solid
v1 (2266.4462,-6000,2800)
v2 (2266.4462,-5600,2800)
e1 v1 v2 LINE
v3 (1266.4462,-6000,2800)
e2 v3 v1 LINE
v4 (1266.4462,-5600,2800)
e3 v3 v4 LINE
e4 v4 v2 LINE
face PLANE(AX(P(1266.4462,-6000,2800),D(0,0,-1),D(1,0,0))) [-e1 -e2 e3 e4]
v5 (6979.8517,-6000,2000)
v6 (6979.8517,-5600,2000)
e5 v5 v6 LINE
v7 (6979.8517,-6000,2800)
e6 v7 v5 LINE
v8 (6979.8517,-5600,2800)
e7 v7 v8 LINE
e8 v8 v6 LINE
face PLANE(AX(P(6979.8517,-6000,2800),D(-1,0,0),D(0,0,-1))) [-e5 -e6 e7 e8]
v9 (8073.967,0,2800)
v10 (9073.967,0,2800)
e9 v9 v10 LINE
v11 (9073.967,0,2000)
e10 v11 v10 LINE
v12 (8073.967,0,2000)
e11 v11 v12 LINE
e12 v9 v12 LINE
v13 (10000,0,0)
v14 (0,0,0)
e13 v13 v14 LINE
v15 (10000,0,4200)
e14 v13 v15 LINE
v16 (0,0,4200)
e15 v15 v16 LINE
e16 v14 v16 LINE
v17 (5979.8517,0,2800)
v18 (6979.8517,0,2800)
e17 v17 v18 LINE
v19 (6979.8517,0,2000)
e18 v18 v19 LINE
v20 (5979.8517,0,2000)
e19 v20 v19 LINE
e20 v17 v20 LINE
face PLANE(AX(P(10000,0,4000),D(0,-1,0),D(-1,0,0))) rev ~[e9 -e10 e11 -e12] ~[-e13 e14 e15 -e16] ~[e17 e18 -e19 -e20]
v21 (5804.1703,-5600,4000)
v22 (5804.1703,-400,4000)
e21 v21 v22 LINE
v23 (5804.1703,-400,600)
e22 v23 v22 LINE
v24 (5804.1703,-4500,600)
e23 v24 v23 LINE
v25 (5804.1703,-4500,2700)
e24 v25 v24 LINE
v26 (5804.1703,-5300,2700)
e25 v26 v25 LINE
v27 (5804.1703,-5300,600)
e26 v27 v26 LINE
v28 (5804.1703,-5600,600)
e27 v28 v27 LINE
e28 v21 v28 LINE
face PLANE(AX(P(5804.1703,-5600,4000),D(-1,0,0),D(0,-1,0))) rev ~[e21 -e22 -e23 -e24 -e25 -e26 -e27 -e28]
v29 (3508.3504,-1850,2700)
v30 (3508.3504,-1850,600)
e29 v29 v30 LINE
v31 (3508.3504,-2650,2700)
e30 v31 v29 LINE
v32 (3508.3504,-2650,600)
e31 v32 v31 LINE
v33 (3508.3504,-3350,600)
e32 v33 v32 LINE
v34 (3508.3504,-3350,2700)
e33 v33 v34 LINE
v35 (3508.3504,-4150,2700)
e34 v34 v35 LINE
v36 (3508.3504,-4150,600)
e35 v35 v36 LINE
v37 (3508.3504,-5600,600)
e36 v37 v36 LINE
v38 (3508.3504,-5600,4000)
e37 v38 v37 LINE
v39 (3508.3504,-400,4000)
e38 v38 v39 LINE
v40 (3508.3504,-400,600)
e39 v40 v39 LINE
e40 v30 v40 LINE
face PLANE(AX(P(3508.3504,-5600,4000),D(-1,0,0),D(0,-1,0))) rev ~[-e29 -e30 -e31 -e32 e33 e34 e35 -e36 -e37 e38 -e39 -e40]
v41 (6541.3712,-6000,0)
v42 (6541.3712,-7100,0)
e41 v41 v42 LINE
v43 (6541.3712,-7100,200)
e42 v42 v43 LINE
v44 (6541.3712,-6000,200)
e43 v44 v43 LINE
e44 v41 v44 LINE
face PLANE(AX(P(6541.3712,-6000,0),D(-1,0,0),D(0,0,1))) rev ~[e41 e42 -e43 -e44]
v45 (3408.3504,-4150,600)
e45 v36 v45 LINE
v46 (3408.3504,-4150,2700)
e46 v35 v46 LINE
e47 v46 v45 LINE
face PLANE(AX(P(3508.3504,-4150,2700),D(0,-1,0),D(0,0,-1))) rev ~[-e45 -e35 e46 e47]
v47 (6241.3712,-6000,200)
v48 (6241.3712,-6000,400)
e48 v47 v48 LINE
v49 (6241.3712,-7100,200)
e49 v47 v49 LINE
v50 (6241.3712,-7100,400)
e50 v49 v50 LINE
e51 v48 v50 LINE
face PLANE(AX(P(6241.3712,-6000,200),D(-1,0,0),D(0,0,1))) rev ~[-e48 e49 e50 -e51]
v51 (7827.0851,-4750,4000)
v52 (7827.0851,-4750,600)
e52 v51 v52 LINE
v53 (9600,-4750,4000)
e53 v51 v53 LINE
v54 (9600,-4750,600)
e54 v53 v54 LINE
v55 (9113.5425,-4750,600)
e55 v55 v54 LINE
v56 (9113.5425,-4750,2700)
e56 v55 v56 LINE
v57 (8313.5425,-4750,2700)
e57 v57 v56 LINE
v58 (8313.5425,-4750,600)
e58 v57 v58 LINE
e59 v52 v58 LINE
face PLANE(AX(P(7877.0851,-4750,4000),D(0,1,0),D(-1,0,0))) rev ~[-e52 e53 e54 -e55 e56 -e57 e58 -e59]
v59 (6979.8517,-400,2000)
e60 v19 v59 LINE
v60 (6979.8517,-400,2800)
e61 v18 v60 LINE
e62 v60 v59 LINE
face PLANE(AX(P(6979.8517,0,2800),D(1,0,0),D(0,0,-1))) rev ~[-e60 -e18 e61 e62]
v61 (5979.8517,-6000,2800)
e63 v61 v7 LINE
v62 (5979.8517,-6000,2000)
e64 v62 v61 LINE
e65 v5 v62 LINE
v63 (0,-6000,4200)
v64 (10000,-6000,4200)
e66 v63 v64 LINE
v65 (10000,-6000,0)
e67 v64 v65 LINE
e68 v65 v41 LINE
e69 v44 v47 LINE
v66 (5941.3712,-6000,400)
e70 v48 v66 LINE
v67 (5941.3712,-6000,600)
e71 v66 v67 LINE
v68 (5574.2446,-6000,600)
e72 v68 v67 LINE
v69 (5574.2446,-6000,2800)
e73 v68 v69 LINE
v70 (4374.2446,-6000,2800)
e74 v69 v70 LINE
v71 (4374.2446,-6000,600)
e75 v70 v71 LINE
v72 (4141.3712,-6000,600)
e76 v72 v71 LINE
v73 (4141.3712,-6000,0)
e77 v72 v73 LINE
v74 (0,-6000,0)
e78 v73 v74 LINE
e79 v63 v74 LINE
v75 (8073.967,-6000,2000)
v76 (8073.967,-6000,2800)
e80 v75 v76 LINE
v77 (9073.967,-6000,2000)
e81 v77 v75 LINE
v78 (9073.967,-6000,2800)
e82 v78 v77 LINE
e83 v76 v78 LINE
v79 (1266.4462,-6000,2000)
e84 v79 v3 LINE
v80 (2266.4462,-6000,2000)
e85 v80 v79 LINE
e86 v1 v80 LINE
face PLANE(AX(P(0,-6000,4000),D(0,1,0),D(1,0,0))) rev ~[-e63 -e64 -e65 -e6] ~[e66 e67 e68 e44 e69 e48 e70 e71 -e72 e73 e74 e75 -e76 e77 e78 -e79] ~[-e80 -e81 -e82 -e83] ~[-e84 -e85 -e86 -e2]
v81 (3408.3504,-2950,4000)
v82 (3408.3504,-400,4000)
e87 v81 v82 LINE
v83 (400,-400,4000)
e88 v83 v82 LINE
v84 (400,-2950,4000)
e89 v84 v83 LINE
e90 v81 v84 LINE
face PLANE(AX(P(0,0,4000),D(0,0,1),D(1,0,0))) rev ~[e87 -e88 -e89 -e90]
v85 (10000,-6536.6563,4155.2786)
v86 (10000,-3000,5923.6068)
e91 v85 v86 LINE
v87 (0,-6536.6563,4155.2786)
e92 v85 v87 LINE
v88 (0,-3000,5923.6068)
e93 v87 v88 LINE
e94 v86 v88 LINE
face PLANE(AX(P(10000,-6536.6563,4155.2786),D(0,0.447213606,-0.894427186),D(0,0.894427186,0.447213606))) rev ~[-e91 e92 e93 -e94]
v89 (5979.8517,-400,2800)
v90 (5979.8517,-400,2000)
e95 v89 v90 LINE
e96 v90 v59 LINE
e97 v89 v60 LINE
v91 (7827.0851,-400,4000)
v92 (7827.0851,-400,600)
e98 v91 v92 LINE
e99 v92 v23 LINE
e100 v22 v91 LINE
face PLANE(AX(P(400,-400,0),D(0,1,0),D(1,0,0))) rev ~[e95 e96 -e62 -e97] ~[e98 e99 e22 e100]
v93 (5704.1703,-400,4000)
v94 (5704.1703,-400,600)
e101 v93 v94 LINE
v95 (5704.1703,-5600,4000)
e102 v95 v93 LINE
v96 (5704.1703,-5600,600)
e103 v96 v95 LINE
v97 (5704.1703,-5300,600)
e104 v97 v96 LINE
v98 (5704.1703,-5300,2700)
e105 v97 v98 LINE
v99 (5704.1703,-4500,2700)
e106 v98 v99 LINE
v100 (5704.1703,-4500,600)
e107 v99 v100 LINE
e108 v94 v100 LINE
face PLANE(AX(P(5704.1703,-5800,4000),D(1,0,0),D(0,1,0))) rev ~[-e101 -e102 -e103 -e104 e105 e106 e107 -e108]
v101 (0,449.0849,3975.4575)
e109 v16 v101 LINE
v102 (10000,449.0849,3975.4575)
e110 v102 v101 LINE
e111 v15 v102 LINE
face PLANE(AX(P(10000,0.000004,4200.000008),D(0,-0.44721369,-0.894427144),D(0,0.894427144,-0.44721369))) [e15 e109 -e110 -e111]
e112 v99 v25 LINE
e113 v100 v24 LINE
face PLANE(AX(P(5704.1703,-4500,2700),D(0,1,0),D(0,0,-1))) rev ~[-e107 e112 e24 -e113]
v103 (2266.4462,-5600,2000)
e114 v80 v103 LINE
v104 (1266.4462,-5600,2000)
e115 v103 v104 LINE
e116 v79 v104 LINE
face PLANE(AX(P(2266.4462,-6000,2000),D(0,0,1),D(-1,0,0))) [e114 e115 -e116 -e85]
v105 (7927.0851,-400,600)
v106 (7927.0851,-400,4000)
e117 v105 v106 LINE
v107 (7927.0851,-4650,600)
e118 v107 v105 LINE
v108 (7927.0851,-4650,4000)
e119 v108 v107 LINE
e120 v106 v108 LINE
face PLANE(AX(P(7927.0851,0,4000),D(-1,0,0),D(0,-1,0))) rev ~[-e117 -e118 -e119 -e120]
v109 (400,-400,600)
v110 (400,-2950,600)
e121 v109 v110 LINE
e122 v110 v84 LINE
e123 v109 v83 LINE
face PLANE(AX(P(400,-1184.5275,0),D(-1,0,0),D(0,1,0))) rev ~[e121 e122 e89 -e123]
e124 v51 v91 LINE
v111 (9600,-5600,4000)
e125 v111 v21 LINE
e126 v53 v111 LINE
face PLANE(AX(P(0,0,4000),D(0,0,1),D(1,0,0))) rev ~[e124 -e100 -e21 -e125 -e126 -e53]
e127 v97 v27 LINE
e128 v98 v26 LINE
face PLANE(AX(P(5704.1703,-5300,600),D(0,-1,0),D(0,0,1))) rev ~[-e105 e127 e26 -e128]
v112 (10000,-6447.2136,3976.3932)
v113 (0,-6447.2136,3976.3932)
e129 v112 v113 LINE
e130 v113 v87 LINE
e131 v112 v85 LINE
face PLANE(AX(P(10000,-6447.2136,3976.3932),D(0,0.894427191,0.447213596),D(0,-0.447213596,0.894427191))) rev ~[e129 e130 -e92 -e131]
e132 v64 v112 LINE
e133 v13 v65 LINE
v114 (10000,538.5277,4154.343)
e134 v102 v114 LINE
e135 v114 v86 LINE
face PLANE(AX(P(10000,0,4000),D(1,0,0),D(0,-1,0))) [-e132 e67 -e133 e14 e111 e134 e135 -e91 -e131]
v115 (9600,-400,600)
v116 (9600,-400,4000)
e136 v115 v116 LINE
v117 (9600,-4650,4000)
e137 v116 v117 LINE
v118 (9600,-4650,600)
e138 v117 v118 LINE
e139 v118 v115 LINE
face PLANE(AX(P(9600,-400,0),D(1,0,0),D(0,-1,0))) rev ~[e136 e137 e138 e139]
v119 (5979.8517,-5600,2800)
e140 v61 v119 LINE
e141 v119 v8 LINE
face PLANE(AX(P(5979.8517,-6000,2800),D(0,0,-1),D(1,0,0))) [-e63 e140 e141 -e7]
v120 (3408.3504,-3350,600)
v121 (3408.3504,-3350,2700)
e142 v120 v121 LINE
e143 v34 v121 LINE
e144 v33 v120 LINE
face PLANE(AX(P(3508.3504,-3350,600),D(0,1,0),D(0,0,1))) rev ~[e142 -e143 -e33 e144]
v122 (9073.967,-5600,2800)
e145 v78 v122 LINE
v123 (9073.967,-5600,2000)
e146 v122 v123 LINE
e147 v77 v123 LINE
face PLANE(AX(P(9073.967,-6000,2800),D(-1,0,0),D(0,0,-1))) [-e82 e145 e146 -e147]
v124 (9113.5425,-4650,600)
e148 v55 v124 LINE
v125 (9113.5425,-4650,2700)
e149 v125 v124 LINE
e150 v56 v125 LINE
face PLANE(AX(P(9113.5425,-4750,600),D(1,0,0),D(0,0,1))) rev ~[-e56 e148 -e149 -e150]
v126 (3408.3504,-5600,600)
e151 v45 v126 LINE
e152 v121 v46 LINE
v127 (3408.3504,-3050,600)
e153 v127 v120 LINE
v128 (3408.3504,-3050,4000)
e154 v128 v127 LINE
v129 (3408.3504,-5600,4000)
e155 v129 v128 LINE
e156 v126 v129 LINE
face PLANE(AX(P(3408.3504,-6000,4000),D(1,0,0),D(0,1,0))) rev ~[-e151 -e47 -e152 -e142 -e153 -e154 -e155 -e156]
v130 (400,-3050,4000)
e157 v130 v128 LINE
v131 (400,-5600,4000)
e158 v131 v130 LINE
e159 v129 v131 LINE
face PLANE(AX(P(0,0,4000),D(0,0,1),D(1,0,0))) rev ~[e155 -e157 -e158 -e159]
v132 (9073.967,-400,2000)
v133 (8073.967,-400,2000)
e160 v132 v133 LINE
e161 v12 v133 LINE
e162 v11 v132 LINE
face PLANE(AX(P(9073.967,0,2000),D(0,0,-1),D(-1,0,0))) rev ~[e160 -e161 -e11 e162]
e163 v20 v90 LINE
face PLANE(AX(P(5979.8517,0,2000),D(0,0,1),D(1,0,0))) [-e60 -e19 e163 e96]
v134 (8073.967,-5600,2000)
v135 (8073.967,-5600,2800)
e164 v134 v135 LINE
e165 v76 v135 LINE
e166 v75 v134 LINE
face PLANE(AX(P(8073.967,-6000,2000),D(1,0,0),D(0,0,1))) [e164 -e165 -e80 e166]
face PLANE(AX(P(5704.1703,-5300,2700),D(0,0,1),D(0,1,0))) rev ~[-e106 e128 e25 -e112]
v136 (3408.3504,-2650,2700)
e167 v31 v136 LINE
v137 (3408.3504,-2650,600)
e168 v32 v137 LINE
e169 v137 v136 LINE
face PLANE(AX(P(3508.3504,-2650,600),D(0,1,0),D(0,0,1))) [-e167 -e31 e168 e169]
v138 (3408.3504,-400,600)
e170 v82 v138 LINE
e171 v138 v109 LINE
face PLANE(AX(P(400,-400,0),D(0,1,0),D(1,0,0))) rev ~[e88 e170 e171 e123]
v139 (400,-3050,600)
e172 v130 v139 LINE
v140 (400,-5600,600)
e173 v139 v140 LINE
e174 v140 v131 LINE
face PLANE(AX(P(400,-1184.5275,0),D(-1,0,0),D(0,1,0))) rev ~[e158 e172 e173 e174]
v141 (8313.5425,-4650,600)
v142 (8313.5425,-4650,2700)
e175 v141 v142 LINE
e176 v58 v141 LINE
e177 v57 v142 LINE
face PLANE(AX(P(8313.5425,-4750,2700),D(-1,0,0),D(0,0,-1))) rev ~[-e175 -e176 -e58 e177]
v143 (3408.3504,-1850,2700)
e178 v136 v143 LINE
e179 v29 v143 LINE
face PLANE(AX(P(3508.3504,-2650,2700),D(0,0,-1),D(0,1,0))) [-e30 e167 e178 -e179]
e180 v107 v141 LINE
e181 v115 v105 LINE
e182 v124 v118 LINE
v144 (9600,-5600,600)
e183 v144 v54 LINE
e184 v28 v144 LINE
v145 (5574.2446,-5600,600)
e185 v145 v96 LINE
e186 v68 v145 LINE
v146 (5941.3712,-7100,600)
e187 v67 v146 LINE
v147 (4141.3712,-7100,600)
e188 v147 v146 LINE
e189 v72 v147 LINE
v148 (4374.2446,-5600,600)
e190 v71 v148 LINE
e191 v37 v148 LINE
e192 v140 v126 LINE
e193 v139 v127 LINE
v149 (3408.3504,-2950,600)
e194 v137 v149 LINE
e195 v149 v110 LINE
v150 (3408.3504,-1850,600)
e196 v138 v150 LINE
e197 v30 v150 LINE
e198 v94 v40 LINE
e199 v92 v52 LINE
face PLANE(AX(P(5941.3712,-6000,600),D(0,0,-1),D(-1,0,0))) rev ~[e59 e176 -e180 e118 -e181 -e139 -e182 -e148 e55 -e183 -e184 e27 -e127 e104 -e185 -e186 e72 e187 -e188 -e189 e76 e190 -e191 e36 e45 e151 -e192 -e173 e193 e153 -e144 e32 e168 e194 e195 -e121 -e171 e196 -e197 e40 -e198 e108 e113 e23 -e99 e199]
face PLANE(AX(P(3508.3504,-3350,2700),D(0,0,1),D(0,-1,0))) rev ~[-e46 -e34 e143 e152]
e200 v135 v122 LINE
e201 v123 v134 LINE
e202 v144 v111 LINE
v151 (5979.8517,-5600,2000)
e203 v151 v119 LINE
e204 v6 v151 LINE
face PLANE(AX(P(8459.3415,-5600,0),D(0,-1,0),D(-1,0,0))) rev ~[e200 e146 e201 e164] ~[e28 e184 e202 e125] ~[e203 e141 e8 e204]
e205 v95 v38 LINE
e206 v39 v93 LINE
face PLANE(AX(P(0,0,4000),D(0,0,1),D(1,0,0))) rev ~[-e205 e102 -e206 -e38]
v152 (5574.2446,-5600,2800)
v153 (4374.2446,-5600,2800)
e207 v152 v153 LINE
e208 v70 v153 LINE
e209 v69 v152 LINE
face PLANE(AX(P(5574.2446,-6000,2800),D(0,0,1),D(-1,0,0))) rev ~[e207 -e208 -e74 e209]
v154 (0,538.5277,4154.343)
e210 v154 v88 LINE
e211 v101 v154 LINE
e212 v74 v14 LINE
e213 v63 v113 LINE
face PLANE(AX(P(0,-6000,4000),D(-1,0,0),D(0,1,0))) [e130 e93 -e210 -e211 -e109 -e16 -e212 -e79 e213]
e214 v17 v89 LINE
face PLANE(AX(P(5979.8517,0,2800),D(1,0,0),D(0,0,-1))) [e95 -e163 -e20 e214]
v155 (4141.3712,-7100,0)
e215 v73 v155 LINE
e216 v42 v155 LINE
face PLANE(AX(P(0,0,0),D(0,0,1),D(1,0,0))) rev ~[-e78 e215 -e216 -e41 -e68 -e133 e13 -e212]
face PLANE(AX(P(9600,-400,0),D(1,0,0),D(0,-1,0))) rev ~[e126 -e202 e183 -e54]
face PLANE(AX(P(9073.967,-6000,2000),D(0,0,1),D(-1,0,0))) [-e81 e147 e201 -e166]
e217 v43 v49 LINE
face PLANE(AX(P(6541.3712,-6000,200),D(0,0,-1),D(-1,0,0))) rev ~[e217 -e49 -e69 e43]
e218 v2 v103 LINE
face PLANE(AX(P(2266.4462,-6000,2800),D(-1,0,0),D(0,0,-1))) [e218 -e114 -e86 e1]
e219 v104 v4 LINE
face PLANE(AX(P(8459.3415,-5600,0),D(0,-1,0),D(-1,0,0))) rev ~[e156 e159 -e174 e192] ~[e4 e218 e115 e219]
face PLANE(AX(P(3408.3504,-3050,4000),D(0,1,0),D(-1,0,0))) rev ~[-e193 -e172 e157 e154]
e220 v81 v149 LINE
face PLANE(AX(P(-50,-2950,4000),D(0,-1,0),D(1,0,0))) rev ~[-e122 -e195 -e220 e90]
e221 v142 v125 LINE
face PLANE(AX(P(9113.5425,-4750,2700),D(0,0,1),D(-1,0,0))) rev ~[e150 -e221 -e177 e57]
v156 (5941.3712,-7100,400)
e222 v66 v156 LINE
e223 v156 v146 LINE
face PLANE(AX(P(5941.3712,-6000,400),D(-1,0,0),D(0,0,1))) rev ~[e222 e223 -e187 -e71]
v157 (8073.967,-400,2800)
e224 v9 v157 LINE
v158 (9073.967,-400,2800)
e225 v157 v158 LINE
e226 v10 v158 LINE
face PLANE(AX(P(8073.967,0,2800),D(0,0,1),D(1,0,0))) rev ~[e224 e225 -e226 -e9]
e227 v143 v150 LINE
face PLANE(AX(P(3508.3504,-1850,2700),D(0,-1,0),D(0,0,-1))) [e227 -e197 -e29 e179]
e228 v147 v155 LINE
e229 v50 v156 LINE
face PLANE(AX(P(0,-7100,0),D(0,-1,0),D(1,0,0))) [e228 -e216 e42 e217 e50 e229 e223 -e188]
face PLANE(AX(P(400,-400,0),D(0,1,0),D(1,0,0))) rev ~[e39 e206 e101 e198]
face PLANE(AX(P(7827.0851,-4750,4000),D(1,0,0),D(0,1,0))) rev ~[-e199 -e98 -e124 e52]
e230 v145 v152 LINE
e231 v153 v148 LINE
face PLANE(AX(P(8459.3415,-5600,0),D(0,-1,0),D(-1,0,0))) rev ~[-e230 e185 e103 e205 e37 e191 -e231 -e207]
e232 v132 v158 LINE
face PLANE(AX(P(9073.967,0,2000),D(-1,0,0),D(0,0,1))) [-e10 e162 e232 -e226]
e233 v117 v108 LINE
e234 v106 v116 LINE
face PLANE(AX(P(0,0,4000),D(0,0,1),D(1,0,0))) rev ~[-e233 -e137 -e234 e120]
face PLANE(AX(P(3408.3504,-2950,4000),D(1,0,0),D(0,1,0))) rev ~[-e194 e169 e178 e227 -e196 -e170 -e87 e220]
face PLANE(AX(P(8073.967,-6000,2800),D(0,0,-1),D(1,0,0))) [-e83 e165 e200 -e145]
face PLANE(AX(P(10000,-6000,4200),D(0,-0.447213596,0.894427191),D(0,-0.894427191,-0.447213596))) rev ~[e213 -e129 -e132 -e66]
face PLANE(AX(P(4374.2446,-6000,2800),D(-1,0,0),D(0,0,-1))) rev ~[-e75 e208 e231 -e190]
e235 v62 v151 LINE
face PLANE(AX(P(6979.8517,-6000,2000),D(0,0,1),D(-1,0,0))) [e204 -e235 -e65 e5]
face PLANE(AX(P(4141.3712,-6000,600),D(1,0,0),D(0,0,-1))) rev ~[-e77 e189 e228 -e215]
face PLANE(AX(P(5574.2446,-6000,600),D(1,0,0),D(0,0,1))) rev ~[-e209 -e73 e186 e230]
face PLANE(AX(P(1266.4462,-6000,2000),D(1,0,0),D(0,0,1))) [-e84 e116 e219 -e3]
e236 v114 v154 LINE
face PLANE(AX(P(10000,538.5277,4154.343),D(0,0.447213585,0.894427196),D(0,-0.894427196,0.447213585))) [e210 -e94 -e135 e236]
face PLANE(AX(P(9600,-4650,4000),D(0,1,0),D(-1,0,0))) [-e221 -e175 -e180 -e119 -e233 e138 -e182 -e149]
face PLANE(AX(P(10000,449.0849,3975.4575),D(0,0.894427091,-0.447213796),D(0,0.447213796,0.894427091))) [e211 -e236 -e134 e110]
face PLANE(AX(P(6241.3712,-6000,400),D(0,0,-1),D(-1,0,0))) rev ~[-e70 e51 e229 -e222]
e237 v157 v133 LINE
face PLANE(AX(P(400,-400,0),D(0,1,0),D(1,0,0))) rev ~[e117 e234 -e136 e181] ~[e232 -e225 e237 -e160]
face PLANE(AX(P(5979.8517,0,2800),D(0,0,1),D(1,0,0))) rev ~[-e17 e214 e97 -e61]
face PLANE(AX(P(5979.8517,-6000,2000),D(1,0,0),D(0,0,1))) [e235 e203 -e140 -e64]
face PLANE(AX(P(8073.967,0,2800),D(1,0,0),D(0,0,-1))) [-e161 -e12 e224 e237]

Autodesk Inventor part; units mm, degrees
ref_plane "YZ Plane" through (0, 0, 0) normal (1, 0, 0) x (0, 1, 0)
ref_plane "XZ Plane" through (0, 0, 0) normal (0, 1, 0) x (-1, 0, 0)
ref_plane "XY Plane" through (0, 0, 0) normal (0, 0, 1) x (1, 0, 0)
sketch "Schizzo1" plane through (0, 0, 0) normal (0, 0, 1) x (1, 0, 0)
  line L0 (0, 0) -> (10000, 0)
  line L1 (10000, 0) -> (10000, -6000)
  line L2 (10000, -6000) -> (0, -6000)
  line L3 (0, -6000) -> (0, 0)
  line L4 (1713.9386, 0) -> (1713.9386, -400)
  line L5 (0, -1184.5275) -> (400, -1184.5275)
  line L6 (8459.3415, -6000) -> (8459.3415, -5600)
  line L7 (10000, -4879.2459) -> (9600, -4879.2459)
  line L8 (400, -400) -> (9600, -400)
  line L9 (9600, -400) -> (9600, -5600)
  line L10 (9600, -5600) -> (400, -5600)
  line L11 (400, -5600) -> (400, -400)
  dimension "d0" = 10000
  dimension "d1" = 6000
  dimension "d2" = 400
  dimension "d3" = 400
  dimension "d4" = 400
  dimension "d5" = 400
extrude "Estrusione1" add sketch "Schizzo1" along normal blind 4000 contours L0 L4 L8 L11 L5 L3 | L0 L1 L7 L9 L8 L4 | L5 L11 L10 L6 L2 L3 | L1 L2 L6 L10 L9 L7
sketch "Schizzo2" plane through (0, -6000, 0) normal (0, -1, 0) x (1, 0, 0)
  line L0 (10000, 0) -> (0, 0) projected
  line L1 (6541.3712, 0) -> (6541.3712, 200)
  line L2 (6541.3712, 0) -> (6741.3712, 0) construction
  line L3 (6541.3712, 200) -> (6241.3712, 200)
  line L4 (6241.3712, 200) -> (6241.3712, 400)
  line L5 (6241.3712, 400) -> (5941.3712, 400)
  line L6 (5941.3712, 400) -> (5941.3712, 600)
  line L7 (5941.3712, 600) -> (5641.3712, 600)
  line L8 (5641.3712, 600) -> (4141.3712, 600)
  line L9 (4141.3712, 600) -> (4141.3712, 0)
  line L10 (4141.3712, 0) -> (6541.3712, 0)
  dimension "d8" = 200
  dimension "d9" = 90
  dimension "d10" = 300
  dimension "d11" = 200
  dimension "d12" = 300
  dimension "d13" = 200
  dimension "d14" = 300
  dimension "d15" = 1500
extrude "Estrusione2" add sketch "Schizzo2" along normal blind 1100
sketch "Schizzo3" plane through (0, -6000, 4000) normal (0, -1, 0) x (1, 0, 0)
  line L0 (4141.3712, -3400) -> (5941.3712, -3400) projected
  line L1 (4374.2446, -3400) -> (5574.2446, -3400)
  line L2 (5574.2446, -3400) -> (5574.2446, -1200)
  line L3 (5574.2446, -1200) -> (4374.2446, -1200)
  line L4 (4374.2446, -1200) -> (4374.2446, -3400)
  point P0 (0, -4000)
  dimension "d18" = 1200
  dimension "d19" = 2200
extrude "Estrusione3" cut sketch "Schizzo3" against normal blind 1000
sketch "Schizzo4" plane through (0, -6000, 4000) normal (0, -1, 0) x (1, 0, 0)
  line L0 (766.9374, -1200) -> (9600, -1200)
  line L1 (9600, -4000) -> (9600, 0) projected
  line L2 (1266.4462, -1200) -> (2266.4462, -1200)
  line L3 (2266.4462, -1200) -> (2266.4462, -2000)
  line L4 (2266.4462, -2000) -> (1266.4462, -2000)
  line L5 (1266.4462, -2000) -> (1266.4462, -1200)
  line L6 (5979.8517, -1200) -> (6979.8517, -1200)
  line L7 (6979.8517, -1200) -> (6979.8517, -2000)
  line L8 (6979.8517, -2000) -> (5979.8517, -2000)
  line L9 (5979.8517, -2000) -> (5979.8517, -1200)
  line L10 (8073.967, -1200) -> (9073.967, -1200)
  line L11 (9073.967, -1200) -> (9073.967, -2000)
  line L12 (9073.967, -2000) -> (8073.967, -2000)
  line L13 (8073.967, -2000) -> (8073.967, -1200)
  point P0 (0, -4000)
  dimension "d22" = 1000
  dimension "d23" = 800
  dimension "d24" = 1000
  dimension "d25" = 800
  dimension "d26" = 1000
  dimension "d27" = 800
extrude "Estrusione4" cut sketch "Schizzo4" against normal blind 1000
sketch "Schizzo5" plane through (0, 0, 0) normal (0, 1, 0) x (1, 0, 0)
  line L0 (1266.4462, -2800) -> (2266.4462, -2800) projected
  line L1 (1266.4462, -2800) -> (9246.6326, -2800)
  line L2 (8073.967, -2800) -> (9073.967, -2800) projected
  line L3 (9073.967, -2000) -> (8073.967, -2000) projected
  line L4 (9073.967, -2800) -> (8073.967, -2800)
  line L5 (8073.967, -2800) -> (8073.967, -2000)
  line L6 (8073.967, -2000) -> (9073.967, -2000)
  line L7 (9073.967, -2000) -> (9073.967, -2800)
  line L8 (6979.8517, -2800) -> (6979.8517, -2000) projected
  line L9 (5979.8517, -2000) -> (6979.8517, -2000) projected
  line L10 (6979.8517, -2800) -> (5979.8517, -2800)
  line L11 (5979.8517, -2800) -> (5979.8517, -2000)
  line L12 (5979.8517, -2000) -> (6979.8517, -2000)
  line L13 (6979.8517, -2000) -> (6979.8517, -2800)
  point P0 (0, 0)
extrude "Estrusione5" cut sketch "Schizzo5" against normal blind 1000
sketch "Schizzo6" plane through (0, 0, 0) normal (0, 0, -1) x (-1, 0, 0)
  line L0 (0, -6000) -> (-10000, -6000) projected
  line L1 (-10000, -6000) -> (-10000, 0) projected
  line L2 (0, -6000) -> (-10000, -6000)
  line L3 (-10000, -6000) -> (-10000, 0)
  line L4 (-10000, 0) -> (0, 0)
  line L5 (0, 0) -> (0, -6000)
extrude "Estrusione6" add sketch "Schizzo6" against normal blind 600
sketch "Schizzo7" plane through (400, -400, 600) normal (0, 0, 1) x (1, 0, 0)
  point P0 (-400, 400)
sketch "Schizzo8" plane through (0, 0, 4000) normal (0, 0, 1) x (1, 0, 0)
  line L0 (0, -6000) -> (10000, -6000) projected
  line L1 (3458.3504, -6000) -> (3458.3504, 0)
  line L2 (5574.2446, -6000) -> (5574.2446, -5600) projected
  line L3 (5574.2446, -5800) -> (5754.1703, -5800)
  line L4 (5754.1703, -5800) -> (5754.1703, 0)
  line L5 (10000, 0) -> (0, 0) projected
  line L6 (5754.1703, -5800) -> (5754.1703, -6000)
  line L7 (3458.3504, -3000) -> (0, -3000)
  line L8 (0, 0) -> (0, -6000) projected
  line L9 (9600, -400) -> (9600, -5600) projected
  line L10 (9600, -5600) -> (400, -5600) projected
  line L11 (7877.0851, -4700) -> (9600, -4700)
  line L12 (3508.3504, -6000) -> (3408.3504, -6000)
  line L13 (3408.3504, -6000) -> (3408.3504, 0)
  line L14 (3408.3504, 0) -> (3508.3504, 0)
  line L15 (3508.3504, 0) -> (3508.3504, -6000)
  line L16 (3508.3504, -6000) -> (3408.3504, 0) construction
  line L17 (3408.3504, -6000) -> (3508.3504, 0) construction
  line L18 (-50, -3050) -> (-50, -2950)
  line L19 (-50, -2950) -> (3508.3504, -2950)
  line L20 (3508.3504, -2950) -> (3508.3504, -3050)
  line L21 (3508.3504, -3050) -> (-50, -3050)
  line L22 (-50, -3050) -> (3508.3504, -2950) construction
  line L23 (-50, -2950) -> (3508.3504, -3050) construction
  line L24 (5804.1703, -5800) -> (5704.1703, -5800)
  line L25 (5704.1703, -5800) -> (5704.1703, 0)
  line L26 (5704.1703, 0) -> (5804.1703, 0)
  line L27 (5804.1703, 0) -> (5804.1703, -5800)
  line L28 (5804.1703, -5800) -> (5704.1703, 0) construction
  line L29 (5704.1703, -5800) -> (5804.1703, 0) construction
  line L30 (5804.1703, -5800) -> (5904.1703, -5800) construction
  line L31 (9600, -4750) -> (9600, -4650)
  line L32 (9600, -4650) -> (7877.0851, -4650)
  line L33 (7877.0851, -4650) -> (7877.0851, -4750)
  line L34 (7877.0851, -4750) -> (9600, -4750)
  line L35 (9600, -4750) -> (7877.0851, -4650) construction
  line L36 (9600, -4650) -> (7877.0851, -4750) construction
  line L37 (7877.0851, 0) -> (7877.0851, -4750)
  line L38 (7927.0851, -4750) -> (7827.0851, -4750)
  line L39 (7827.0851, -4750) -> (7827.0851, 0)
  line L40 (7827.0851, 0) -> (7927.0851, 0)
  line L41 (7927.0851, 0) -> (7927.0851, -4750)
  line L42 (7927.0851, -4750) -> (7827.0851, 0) construction
  line L43 (7827.0851, -4750) -> (7927.0851, 0) construction
  point P0 (1729.1752, -3000)
  point P1 (5754.1703, -2900)
  point P2 (8738.5426, -4700)
  point P3 (7877.0851, -2375)
  point P4 (7927.0851, -4650)
  point P5 (3408.3504, -3050)
  point P6 (3408.3504, -2950)
  dimension "d35" = 100
  dimension "d36" = 100
  dimension "d37" = 100
  dimension "d38" = 180
  dimension "d39" = 100
  dimension "d40" = 100
extrude "Estrusione7" add sketch "Schizzo8" against normal blind 4000 contours L13 L10 L1 L0 | L21 L18 L19 L8 | L8 L7 L13 L21 | L1 L10 L15 L0 | L13 L21 L1 L10 | L8 L19 L13 L7 | L13 L7 L1 L21 | L1 L21 L15 L10 | L13 L19 L1 L7 | L1 L19 L15 L21 | L13 L5 L1 L19 | L1 L5 L15 L19 | L3 L25 L10 L4 | L4 L10 L27 L24 | L25 L5 L4 L10 | L4 L5 L27 L10 | L5 L37 L33 L38 L39 | L34 L41 L11 L9 | L5 L41 L32 L37 | L11 L41 L32 L9 | L34 L33 L11 L41 | L32 L41 L11 L33
sketch "Schizzo9" plane through (0, 0, 4000) normal (0, 0, 1) x (1, 0, 0)
  line L0 (0, -3050) -> (-50, -3050) projected
  line L1 (0, -2950) -> (-50, -2950) projected
  line L2 (-50, -3050) -> (0, -3050)
  line L3 (0, -3050) -> (0, -2950)
  line L4 (0, -2950) -> (-50, -2950)
  line L5 (-50, -2950) -> (-50, -3050)
  point P0 (0, 0)
extrude "Estrusione8" cut sketch "Schizzo9" against normal blind 4000
sketch "Schizzo10" plane through (3508.3504, -5600, 4000) normal (1, 0, 0) x (0, 0, -1)
  line L0 (3400, 0) -> (3400, 2550) projected
  line L1 (3400, 2550) -> (3400, 2250)
  line L2 (3400, 5200) -> (3400, 0) projected
  line L3 (3400, 2250) -> (1300, 2250)
  line L4 (3400, 2250) -> (5500, 2250) construction
  line L5 (1300, 2250) -> (1300, 1450)
  line L6 (1300, 1450) -> (3400, 1450)
  line L7 (3400, 2250) -> (3400, 1450)
  line L8 (0, 2650) -> (3400, 2650) projected
  line L9 (3400, 2650) -> (3400, 2950)
  line L10 (3400, 2950) -> (1300, 2950)
  line L11 (1300, 2950) -> (1300, 3750)
  line L12 (1300, 3750) -> (3400, 3750)
  line L13 (3400, 2950) -> (3400, 3750)
  point P0 (4000, 5600)
  dimension "d45" = 300
  dimension "d46" = 2100
  dimension "d47" = 180
  dimension "d48" = 800
  dimension "d49" = 300
  dimension "d50" = 800
  dimension "d51" = 90
extrude "Estrusione9" cut sketch "Schizzo10" against normal blind 1000
sketch "Schizzo11" plane through (5704.1703, -5600, 4000) normal (-1, 0, 0) x (0, 0, 1)
  line L0 (-3400, 0) -> (-3400, 5200) projected
  line L1 (-3400, 0) -> (-3400, 300)
  line L2 (-3400, 300) -> (-1300, 300)
  line L3 (-1300, 300) -> (-1300, 1100)
  line L4 (-1300, 1100) -> (-3400, 1100)
  line L5 (-3400, 5200) -> (-3400, 0) projected
  line L6 (-3400, 1100) -> (-3400, 300)
  point P0 (-4000, 5600)
  dimension "d54" = 300
  dimension "d55" = 2100
  dimension "d56" = 90
  dimension "d57" = 800
  dimension "d58" = 2100
  dimension "d59" = 90
extrude "Estrusione10" cut sketch "Schizzo11" against normal blind 1000
sketch "Schizzo12" plane through (7827.0851, -4750, 4000) normal (0, -1, 0) x (1, 0, 0)
  line L0 (0, 0) -> (1772.9149, 0) projected
  line L1 (886.4574, 0) -> (886.4574, -3400)
  line L2 (1772.9149, -3400) -> (0, -3400) projected
  line L3 (886.4574, -3400) -> (1286.4574, -3400)
  line L4 (1286.4574, -3400) -> (1286.4574, -1300)
  line L5 (1286.4574, -1300) -> (486.4574, -1300)
  line L6 (486.4574, -1300) -> (486.4574, -3400)
  line L7 (486.4574, -3400) -> (1286.4574, -3400)
  point P0 (-7827.0851, -4000)
  dimension "d62" = 400
  dimension "d63" = 2100
  dimension "d64" = 90
  dimension "d65" = 800
  dimension "d66" = 90
  dimension "d67" = 2100
  dimension "d68" = 90
extrude "Estrusione11" cut sketch "Schizzo12" against normal blind 1000
sketch "Schizzo13" plane through (0, 0, 4000) normal (0, 0, 1) x (1, 0, 0)
  line L0 (10000, 0) -> (0, 0) projected
  line L1 (0, -6000) -> (10000, -6000) projected
  line L2 (0, 0) -> (10000, 0)
  line L3 (10000, 0) -> (10000, -6000)
  line L4 (10000, -6000) -> (0, -6000)
  line L5 (0, -6000) -> (0, 0)
extrude "Estrusione12" add sketch "Schizzo13" along normal blind 200
sketch "Schizzo14" plane through (10000, -6000, 0) normal (1, 0, 0) x (0, 0, -1)
  line L0 (-4200, 0) -> (-4200, 6000) projected
  line L1 (-4200, 3000) -> (-5700, 3000)
  line L2 (0, 0) -> (-4200, 0) projected
  line L3 (-5700, 3000) -> (-4200, 0)
  line L4 (-4200, 0) -> (-3976.3932, -447.2136)
  line L5 (-3976.3932, -447.2136) -> (-4155.2786, -536.6563)
  line L6 (-4155.2786, -536.6563) -> (-5923.6068, 3000)
  line L7 (-5700, 3000) -> (-4200, 6000)
  line L8 (0, 6000) -> (-4200, 6000) projected
  line L9 (-4200, 0) -> (-4200, 6000)
  line L10 (-4352.4612, 5695.0777) -> (-3975.4575, 6449.0849)
  line L11 (-3975.4575, 6449.0849) -> (-4154.343, 6538.5277)
  line L12 (-4154.343, 6538.5277) -> (-5923.6068, 3000)
  dimension "d73" = 1500
  dimension "d74" = 500
  dimension "d75" = 200
  dimension "d78" = 200
extrude "Estrusione13" add sketch "Schizzo14" against normal blind 10000
properties part number "casa sip"
